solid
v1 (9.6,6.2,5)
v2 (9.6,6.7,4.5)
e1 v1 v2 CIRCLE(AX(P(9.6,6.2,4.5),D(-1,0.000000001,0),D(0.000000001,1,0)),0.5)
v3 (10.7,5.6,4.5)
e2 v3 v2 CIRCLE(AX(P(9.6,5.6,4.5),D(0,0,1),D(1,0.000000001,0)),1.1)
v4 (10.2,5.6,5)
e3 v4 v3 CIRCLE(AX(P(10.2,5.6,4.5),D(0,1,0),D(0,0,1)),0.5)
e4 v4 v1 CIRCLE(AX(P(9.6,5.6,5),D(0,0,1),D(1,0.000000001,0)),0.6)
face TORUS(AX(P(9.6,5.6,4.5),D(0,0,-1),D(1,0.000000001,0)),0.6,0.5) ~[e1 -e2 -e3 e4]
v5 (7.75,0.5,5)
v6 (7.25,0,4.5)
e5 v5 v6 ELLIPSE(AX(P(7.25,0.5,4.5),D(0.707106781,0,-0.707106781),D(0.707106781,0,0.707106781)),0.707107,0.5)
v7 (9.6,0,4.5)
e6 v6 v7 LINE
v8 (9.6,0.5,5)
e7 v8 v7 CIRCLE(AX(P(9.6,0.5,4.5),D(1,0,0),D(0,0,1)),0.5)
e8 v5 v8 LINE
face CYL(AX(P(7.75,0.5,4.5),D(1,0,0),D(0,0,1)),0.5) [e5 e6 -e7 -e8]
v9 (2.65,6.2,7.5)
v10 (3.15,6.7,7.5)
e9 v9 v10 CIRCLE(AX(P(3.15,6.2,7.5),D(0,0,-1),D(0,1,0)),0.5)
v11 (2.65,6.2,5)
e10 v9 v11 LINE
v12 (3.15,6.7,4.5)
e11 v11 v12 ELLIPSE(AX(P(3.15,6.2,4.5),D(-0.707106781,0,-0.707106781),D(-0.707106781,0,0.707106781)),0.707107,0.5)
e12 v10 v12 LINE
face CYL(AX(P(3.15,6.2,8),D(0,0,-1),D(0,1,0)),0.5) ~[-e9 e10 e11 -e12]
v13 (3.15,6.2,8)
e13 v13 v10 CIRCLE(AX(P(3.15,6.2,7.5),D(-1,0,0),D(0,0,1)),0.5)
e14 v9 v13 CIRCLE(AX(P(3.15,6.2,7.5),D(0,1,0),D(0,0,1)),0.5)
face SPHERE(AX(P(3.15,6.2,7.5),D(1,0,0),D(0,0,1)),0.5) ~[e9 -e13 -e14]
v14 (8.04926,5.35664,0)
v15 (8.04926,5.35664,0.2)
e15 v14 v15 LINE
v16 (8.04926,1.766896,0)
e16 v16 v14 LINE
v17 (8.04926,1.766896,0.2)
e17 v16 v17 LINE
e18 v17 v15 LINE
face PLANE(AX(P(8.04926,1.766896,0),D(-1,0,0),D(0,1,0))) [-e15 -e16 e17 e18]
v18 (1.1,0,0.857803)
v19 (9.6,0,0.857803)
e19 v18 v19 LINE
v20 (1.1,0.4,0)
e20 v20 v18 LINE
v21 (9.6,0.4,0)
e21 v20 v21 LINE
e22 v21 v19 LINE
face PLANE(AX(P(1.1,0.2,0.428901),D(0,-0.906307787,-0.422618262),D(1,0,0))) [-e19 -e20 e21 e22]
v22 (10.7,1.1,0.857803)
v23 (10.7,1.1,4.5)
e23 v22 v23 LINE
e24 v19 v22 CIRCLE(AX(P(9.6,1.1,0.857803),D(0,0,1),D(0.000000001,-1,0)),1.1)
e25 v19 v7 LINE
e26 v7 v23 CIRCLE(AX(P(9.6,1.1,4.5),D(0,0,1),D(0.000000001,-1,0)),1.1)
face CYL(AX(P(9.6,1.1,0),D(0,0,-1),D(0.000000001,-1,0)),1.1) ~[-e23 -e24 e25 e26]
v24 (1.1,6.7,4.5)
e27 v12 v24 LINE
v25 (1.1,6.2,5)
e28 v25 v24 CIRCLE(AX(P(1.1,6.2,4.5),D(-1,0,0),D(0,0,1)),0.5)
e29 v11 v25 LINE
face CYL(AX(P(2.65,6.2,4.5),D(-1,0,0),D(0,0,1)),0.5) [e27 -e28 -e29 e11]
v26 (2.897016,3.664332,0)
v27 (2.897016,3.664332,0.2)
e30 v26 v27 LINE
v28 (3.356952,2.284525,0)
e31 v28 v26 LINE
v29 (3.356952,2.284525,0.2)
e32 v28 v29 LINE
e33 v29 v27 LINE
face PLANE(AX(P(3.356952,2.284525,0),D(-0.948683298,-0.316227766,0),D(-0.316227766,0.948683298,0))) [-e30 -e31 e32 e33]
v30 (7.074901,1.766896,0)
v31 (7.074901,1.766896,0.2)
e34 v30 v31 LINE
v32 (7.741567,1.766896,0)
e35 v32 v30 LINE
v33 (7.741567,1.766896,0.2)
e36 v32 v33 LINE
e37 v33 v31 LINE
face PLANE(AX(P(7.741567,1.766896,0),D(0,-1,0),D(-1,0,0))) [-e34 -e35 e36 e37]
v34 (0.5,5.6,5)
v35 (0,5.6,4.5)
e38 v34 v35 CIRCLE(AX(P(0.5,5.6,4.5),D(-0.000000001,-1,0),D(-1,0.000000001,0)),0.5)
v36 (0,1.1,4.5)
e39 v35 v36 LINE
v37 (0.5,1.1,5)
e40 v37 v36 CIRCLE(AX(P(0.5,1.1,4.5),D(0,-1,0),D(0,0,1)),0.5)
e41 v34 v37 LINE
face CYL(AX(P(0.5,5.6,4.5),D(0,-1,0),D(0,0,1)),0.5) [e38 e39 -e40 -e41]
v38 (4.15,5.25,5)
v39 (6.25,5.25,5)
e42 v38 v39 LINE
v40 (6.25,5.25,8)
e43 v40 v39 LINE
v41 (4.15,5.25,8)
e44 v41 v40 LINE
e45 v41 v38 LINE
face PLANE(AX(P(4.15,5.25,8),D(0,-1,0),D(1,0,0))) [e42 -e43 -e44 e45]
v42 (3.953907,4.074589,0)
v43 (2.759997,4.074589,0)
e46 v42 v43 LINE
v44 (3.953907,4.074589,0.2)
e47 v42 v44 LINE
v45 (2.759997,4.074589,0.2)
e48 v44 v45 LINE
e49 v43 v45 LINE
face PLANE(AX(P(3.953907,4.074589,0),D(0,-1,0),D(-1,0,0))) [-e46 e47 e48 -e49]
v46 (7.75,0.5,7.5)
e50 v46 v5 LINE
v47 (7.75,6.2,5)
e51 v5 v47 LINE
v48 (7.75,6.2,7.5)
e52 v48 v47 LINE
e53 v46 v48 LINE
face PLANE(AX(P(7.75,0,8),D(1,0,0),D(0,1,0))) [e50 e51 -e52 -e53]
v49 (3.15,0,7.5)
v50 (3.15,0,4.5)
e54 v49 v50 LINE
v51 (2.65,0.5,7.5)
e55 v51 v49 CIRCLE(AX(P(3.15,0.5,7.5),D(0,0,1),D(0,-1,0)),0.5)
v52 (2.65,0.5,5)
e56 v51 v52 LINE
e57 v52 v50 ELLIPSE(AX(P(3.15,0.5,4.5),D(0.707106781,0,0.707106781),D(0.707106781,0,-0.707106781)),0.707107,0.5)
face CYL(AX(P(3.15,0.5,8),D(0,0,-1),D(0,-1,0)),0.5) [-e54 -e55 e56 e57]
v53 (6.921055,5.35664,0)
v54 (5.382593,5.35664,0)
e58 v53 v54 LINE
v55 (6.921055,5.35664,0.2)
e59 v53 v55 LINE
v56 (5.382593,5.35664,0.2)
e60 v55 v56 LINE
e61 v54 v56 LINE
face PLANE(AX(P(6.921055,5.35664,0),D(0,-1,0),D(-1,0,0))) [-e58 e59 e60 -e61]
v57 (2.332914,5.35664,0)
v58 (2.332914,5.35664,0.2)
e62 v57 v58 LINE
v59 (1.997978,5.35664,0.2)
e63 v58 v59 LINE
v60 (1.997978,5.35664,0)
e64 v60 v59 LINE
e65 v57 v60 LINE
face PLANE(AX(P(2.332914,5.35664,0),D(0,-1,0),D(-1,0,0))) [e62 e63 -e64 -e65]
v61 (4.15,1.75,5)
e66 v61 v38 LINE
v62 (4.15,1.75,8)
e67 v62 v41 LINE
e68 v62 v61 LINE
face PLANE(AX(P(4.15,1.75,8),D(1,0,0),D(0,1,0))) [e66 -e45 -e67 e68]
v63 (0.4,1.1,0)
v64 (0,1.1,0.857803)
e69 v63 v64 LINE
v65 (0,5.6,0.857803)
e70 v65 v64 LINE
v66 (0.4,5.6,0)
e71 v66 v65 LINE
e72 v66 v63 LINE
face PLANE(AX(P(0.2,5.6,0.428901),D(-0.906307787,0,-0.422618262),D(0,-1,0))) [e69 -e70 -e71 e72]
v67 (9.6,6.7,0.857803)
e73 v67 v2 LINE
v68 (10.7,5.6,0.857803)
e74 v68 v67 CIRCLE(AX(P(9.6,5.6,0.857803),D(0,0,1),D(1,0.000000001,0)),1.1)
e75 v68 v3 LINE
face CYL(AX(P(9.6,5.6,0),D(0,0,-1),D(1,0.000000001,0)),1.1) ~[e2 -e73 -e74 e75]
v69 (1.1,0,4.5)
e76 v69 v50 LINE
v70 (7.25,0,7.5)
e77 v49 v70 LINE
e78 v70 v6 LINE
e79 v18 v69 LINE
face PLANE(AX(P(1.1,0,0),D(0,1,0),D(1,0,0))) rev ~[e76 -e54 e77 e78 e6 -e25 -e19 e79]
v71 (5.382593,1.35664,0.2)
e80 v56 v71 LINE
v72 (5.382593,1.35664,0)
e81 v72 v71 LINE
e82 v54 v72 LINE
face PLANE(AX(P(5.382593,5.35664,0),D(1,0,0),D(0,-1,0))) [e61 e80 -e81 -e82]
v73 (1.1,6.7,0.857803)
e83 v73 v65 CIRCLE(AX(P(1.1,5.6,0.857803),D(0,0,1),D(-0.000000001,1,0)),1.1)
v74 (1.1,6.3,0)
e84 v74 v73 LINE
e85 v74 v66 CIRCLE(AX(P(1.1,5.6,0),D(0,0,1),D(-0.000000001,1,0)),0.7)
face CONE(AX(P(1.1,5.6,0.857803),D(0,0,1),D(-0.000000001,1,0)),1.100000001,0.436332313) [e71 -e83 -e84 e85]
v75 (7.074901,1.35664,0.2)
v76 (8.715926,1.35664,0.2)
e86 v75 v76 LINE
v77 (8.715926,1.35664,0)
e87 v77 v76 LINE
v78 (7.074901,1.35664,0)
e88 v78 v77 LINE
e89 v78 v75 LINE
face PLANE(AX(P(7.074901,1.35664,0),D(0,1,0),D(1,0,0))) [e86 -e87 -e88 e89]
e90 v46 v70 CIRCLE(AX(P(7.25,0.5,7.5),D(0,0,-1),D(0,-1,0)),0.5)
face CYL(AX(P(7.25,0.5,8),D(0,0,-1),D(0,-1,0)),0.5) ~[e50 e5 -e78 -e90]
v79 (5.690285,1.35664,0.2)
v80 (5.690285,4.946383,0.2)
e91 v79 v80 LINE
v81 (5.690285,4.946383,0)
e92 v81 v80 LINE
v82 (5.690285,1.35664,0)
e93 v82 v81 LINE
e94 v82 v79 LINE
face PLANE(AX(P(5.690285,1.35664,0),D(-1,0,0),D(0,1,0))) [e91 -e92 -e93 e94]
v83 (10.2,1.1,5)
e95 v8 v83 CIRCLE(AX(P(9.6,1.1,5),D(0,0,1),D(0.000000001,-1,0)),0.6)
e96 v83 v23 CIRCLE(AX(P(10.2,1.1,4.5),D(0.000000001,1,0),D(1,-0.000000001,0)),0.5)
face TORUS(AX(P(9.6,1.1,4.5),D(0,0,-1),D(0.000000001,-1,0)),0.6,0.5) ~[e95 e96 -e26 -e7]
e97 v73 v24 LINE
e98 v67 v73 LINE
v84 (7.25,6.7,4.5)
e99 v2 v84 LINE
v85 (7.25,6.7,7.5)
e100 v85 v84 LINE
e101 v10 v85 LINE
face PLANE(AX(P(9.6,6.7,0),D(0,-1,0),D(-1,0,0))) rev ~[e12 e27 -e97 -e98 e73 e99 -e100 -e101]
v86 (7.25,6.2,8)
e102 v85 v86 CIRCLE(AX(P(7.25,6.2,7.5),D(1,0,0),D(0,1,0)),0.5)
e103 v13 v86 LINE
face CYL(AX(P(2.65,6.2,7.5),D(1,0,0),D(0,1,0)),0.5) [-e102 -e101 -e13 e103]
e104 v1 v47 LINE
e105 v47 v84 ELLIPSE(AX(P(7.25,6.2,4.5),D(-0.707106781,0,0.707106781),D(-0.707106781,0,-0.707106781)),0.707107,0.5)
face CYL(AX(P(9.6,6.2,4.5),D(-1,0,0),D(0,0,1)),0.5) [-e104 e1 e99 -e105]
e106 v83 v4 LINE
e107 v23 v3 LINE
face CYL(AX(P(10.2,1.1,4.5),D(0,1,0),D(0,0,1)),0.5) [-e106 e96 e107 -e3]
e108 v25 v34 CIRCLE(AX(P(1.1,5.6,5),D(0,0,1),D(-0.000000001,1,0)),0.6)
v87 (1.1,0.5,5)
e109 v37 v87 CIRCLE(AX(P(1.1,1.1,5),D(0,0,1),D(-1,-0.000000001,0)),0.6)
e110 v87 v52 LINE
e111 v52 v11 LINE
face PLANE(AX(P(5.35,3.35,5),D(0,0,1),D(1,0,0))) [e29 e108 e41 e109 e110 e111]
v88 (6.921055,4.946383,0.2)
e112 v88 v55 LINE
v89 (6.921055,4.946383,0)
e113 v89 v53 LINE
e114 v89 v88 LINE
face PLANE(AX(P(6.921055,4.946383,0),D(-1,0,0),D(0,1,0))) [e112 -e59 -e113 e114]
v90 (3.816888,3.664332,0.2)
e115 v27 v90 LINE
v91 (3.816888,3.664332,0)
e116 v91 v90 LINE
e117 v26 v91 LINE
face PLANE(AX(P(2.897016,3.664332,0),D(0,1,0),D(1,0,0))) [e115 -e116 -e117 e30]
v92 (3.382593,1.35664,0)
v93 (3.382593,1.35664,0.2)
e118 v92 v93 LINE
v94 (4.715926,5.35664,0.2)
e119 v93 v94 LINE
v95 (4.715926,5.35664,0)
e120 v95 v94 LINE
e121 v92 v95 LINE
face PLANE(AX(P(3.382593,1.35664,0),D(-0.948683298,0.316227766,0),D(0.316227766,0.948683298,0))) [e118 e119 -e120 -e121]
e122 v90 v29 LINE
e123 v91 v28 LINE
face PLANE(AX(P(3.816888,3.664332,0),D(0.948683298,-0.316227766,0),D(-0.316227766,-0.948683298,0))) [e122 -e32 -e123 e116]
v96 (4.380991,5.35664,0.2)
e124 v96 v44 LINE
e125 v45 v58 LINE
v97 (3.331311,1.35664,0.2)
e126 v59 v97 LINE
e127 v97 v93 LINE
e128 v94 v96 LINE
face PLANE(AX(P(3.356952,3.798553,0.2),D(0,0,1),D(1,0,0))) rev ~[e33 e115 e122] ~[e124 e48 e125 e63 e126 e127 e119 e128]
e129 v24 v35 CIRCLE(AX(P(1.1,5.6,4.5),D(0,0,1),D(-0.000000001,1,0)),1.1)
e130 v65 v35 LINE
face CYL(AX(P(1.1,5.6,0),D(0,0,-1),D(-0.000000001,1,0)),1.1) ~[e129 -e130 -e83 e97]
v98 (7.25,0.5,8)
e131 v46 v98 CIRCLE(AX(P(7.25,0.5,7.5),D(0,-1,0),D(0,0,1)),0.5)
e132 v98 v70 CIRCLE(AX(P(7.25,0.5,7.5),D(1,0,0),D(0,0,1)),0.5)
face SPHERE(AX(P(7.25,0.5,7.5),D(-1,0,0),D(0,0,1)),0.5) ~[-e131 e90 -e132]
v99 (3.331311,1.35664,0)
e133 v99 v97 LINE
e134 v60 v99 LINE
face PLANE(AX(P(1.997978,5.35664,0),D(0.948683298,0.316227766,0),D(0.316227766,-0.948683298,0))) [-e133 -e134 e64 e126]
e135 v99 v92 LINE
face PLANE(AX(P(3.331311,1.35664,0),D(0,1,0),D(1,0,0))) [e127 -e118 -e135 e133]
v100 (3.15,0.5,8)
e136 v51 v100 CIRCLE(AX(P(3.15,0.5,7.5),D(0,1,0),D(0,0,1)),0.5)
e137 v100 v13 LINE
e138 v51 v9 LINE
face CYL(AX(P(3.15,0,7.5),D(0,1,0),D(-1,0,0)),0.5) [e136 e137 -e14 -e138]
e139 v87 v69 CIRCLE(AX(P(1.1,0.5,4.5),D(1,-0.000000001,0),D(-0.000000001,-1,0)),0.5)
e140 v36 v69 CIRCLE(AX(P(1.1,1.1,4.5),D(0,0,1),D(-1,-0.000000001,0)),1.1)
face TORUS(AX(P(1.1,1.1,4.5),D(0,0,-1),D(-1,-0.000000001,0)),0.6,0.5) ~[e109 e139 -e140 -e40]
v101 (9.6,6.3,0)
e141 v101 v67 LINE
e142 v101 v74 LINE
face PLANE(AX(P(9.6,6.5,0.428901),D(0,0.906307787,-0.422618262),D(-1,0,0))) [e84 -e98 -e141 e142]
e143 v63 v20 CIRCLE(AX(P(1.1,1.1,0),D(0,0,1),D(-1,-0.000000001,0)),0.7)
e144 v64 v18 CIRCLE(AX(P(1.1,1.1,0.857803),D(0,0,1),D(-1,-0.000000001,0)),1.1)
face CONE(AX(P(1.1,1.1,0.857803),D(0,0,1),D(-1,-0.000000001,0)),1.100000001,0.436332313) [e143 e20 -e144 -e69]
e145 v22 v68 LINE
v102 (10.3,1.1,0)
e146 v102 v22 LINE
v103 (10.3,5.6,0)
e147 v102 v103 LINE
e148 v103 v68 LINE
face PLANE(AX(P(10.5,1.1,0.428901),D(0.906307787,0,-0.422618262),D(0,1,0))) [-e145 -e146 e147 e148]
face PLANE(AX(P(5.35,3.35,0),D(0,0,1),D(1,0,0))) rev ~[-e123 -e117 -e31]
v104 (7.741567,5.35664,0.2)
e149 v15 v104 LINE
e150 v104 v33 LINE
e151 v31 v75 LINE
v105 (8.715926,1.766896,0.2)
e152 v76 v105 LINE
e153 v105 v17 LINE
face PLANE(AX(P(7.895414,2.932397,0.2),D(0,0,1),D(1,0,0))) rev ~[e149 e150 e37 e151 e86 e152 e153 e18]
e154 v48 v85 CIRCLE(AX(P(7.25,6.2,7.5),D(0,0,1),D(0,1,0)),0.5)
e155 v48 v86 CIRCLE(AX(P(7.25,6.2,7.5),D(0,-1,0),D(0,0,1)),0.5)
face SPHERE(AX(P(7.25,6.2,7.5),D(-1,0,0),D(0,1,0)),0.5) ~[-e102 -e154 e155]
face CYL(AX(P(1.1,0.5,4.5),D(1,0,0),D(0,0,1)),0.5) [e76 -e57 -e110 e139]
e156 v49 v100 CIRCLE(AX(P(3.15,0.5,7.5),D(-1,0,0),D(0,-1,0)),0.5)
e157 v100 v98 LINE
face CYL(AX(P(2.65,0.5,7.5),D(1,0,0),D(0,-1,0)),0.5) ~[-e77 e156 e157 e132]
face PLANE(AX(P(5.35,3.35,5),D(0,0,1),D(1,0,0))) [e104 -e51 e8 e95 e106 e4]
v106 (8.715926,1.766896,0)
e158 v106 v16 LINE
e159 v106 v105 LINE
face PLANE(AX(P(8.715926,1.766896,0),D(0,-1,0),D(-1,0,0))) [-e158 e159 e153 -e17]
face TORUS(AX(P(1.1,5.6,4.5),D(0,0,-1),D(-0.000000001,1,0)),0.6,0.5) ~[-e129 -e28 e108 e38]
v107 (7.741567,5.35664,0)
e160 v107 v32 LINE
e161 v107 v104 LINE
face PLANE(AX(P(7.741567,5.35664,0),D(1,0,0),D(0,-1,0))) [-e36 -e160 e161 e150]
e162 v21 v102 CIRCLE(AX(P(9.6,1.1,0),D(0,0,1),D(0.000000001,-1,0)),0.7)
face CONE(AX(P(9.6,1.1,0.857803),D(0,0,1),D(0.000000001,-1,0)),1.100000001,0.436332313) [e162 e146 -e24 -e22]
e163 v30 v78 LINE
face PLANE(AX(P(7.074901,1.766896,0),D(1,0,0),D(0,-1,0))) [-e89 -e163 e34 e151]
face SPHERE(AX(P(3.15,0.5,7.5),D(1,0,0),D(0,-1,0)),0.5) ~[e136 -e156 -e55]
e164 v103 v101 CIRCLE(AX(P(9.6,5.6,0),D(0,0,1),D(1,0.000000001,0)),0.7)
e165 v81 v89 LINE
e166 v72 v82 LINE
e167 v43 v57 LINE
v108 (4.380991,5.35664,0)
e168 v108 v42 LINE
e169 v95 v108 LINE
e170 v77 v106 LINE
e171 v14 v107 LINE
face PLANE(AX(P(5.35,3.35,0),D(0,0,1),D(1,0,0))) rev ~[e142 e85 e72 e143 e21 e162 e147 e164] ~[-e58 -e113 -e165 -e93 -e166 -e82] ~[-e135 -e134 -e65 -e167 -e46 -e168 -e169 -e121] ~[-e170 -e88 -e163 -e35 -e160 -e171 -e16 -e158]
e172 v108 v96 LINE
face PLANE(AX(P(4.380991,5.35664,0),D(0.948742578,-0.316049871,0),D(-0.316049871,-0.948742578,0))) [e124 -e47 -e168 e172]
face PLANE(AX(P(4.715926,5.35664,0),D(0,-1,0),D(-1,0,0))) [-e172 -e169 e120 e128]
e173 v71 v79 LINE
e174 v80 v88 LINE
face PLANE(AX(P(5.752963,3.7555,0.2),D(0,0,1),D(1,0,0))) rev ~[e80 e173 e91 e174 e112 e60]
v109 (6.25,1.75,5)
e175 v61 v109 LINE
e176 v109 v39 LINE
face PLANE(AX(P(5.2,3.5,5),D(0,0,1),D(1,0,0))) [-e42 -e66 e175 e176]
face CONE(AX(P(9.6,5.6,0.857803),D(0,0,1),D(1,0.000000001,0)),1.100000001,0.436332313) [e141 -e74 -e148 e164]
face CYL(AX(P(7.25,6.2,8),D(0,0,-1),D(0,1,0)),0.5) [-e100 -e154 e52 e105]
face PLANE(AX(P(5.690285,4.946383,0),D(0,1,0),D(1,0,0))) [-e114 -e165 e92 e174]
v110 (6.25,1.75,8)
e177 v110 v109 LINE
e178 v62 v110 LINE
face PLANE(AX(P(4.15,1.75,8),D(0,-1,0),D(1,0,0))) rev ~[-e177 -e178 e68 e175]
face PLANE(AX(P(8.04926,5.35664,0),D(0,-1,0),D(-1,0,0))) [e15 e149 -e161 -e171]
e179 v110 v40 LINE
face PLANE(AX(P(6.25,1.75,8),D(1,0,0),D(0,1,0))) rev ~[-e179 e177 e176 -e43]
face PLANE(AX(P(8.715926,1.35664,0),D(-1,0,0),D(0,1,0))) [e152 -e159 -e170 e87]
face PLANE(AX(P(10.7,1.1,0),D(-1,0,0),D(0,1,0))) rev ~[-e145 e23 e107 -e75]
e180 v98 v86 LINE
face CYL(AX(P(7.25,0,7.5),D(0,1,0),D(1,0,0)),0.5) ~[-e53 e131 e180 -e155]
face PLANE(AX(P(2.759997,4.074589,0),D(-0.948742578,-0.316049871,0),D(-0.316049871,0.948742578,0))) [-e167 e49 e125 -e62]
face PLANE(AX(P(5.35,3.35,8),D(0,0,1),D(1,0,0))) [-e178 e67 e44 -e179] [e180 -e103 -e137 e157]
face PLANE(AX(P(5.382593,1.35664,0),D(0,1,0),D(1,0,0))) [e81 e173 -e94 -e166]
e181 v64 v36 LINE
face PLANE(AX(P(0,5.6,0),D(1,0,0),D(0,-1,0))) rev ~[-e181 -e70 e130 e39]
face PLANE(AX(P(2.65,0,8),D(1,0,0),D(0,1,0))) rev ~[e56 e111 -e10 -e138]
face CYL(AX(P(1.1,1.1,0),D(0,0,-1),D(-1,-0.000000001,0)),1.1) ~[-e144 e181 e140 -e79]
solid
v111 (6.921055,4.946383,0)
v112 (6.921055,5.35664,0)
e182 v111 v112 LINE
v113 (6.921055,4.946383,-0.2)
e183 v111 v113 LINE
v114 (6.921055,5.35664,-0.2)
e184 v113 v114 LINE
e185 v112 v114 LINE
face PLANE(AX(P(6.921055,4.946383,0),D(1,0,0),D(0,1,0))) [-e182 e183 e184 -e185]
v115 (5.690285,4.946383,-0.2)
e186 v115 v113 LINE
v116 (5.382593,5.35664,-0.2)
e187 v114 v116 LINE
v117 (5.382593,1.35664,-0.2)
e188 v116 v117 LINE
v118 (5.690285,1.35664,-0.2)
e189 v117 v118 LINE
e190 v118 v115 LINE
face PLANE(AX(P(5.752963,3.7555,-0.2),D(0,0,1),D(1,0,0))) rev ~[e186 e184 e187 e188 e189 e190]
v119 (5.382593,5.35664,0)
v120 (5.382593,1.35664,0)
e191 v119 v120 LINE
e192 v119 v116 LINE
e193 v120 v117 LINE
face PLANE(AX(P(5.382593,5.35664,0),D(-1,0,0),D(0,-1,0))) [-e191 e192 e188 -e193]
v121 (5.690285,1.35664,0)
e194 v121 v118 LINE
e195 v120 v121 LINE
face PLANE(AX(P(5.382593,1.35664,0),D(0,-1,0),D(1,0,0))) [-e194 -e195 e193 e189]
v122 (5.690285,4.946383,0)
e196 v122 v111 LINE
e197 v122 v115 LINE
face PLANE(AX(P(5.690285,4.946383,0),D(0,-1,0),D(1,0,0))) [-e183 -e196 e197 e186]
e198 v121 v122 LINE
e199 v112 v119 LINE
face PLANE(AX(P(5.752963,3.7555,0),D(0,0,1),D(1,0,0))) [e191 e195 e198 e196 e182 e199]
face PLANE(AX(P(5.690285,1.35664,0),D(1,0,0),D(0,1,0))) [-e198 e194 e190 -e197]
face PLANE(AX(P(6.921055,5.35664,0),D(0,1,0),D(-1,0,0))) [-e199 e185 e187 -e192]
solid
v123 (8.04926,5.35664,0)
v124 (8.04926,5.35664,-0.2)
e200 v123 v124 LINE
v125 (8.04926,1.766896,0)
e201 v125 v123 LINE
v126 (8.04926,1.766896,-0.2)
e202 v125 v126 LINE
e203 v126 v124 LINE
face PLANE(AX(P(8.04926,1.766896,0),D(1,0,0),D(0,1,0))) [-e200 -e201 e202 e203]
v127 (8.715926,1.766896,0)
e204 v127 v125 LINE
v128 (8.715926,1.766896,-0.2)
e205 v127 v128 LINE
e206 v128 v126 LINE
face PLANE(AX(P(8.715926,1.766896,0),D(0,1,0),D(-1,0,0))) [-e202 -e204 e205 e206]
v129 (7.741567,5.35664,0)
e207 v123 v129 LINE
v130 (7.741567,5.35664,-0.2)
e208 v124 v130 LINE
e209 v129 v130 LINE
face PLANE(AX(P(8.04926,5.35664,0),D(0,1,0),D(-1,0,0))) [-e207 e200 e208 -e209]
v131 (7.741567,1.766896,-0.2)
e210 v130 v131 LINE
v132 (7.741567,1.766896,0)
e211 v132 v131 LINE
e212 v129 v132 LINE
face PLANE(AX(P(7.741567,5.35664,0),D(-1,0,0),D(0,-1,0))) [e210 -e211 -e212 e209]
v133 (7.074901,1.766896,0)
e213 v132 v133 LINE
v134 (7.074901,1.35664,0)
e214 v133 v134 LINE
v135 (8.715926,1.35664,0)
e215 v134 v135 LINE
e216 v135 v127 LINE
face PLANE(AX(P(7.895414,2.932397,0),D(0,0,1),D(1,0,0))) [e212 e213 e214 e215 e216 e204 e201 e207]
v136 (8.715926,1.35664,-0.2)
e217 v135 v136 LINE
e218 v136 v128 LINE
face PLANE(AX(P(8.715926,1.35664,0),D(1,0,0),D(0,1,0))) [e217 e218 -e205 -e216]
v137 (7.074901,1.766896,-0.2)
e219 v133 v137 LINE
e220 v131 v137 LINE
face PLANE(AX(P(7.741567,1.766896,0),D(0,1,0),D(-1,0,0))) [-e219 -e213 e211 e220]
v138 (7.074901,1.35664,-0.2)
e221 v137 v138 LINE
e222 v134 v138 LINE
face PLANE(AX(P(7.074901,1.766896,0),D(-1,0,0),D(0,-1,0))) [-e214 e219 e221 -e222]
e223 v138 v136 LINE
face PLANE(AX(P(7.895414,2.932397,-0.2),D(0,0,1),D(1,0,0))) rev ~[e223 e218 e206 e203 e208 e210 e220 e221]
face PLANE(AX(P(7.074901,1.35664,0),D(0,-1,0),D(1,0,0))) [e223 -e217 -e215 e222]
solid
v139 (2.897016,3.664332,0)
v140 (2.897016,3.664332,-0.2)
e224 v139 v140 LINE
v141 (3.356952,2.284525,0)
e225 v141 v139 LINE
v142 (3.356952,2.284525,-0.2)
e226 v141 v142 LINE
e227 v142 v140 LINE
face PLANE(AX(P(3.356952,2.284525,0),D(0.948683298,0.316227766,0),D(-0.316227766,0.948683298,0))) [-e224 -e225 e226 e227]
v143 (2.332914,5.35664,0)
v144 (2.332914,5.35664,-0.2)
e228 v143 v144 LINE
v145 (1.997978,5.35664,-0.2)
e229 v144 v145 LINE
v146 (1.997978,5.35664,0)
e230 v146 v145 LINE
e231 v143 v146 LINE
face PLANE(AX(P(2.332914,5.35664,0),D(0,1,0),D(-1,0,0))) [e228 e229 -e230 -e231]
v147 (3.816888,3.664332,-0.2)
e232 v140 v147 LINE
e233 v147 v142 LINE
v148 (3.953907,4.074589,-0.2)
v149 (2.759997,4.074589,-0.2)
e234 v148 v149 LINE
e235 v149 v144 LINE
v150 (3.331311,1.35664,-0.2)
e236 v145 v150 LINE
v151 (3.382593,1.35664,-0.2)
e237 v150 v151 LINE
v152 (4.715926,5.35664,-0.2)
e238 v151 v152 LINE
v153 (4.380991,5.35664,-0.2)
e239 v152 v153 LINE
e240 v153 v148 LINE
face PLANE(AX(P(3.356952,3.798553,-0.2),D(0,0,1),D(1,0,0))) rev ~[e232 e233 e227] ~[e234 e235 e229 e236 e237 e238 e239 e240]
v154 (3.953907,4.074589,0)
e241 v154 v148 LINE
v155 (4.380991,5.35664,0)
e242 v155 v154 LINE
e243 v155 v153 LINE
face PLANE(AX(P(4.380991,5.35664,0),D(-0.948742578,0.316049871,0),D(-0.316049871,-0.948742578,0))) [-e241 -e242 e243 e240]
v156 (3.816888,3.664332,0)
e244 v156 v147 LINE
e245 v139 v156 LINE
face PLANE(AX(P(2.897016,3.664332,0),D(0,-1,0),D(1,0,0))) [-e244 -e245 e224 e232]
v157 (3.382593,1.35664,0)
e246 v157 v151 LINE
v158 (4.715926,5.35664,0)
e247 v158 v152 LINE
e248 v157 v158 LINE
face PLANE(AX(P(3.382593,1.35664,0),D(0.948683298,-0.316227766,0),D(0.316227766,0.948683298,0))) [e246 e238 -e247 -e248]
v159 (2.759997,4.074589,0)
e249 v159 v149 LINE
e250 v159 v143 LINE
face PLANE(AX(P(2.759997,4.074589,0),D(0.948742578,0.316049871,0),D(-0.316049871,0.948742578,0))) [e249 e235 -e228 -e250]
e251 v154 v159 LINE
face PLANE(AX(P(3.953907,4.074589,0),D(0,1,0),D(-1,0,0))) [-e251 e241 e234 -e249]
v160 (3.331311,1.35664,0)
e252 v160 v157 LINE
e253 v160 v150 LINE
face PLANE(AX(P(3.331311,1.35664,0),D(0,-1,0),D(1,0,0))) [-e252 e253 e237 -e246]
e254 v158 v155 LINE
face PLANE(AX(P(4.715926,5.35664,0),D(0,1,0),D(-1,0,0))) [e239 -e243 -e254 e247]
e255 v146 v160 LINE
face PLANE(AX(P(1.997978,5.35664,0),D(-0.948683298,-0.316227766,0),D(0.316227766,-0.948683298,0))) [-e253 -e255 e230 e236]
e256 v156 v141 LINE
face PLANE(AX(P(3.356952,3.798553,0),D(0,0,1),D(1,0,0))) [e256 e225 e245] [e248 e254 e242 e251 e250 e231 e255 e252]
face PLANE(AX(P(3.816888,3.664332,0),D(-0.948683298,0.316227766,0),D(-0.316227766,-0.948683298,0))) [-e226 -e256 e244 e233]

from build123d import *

# Parameters (mm, degrees)
BOSS_EXTRU_1_DEPTH      = 8
ESQUISSE3_W             = 2.1
ESQUISSE3_H             = 3.5
ENL_V_MAT_EXTRU_1_DEPTH = 3
ESQUISSE4_OUTSIDE_W     = 15.69
ESQUISSE4_OUTSIDE_H     = 11.69
ESQUISSE4_OUTSIDE_W_2   = 5.1
ESQUISSE4_OUTSIDE_H_2   = 6.7
ENL_V_MAT_EXTRU_2_DEPTH = 3
CONG_1_R                = 0.5
CHANFREIN1_SIZE         = 0.4
CHANFREIN1_SIZE2        = 0.857802768
ENL_V_MAT_EXTRU_3_DEPTH = 0.2
BOSS_EXTRU_2_DEPTH      = 0.2
BOSS_EXTRU_2_2_DEPTH    = 0.2
BOSS_EXTRU_2_3_DEPTH    = 0.2


with BuildPart() as part:
    # Esquisse2 → Boss.-Extru.1 (new body)
    with BuildSketch(Plane.XY):
        with BuildLine():
            Line((1.1, 0), (9.6, 0))
            ThreePointArc((9.6, 0), (10.377817459, 0.322182541), (10.7, 1.1))
            Line((10.7, 1.1), (10.7, 5.6))
            ThreePointArc((10.7, 5.6), (10.377817459, 6.377817459), (9.6, 6.7))
            Line((9.6, 6.7), (1.1, 6.7))
            ThreePointArc((1.1, 6.7), (0.322182541, 6.377817459), (0, 5.6))
            Line((0, 5.6), (0, 1.1))
            ThreePointArc((0, 1.1), (0.322182541, 0.322182541), (1.1, 0))
        make_face()
    extrude(amount=BOSS_EXTRU_1_DEPTH)

    # Esquisse3 → Enlèv. mat.-Extru.1 (cut)
    with BuildSketch(Plane.XY.offset(8)):
        with Locations((5.2, 3.5)):
            Rectangle(ESQUISSE3_W, ESQUISSE3_H)
    extrude(amount=-ENL_V_MAT_EXTRU_1_DEPTH, mode=Mode.SUBTRACT)

    # Esquisse4 outside → Enlèv. mat.-Extru.2 (cut)
    with BuildSketch(Plane.XY.offset(8)):
        with Locations((5.35, 3.35)):
            Rectangle(ESQUISSE4_OUTSIDE_W, ESQUISSE4_OUTSIDE_H)
        with Locations((5.2, 3.35)):
            Rectangle(ESQUISSE4_OUTSIDE_W_2, ESQUISSE4_OUTSIDE_H_2, mode=Mode.SUBTRACT)
    extrude(amount=-ENL_V_MAT_EXTRU_2_DEPTH, mode=Mode.SUBTRACT)

    # Congé1
    cong_1_edges = [part.edges().sort_by_distance(p)[0] for p in [
        (8.675, 0, 5),
        (10.377817459, 0.322182541, 5),
        (10.7, 3.35, 5),
        (10.377817459, 6.377817459, 5),
        (1.875, 6.7, 5),
        (0.322182541, 6.377817459, 5),
        (1.875, 0, 5),
        (0.322182541, 0.322182541, 5),
        (7.75, 6.7, 6.5),
        (2.65, 6.7, 6.5),
        (7.75, 0, 6.5),
        (2.65, 0, 6.5),
        (2.65, 3.35, 8),
        (5.2, 6.7, 8),
        (7.75, 3.35, 8),
        (5.2, 0, 8),
        (8.675, 6.7, 5),
        (0, 3.35, 5),
    ]]
    fillet(cong_1_edges, radius=CONG_1_R)

    # Chanfrein1
    chanfrein1_edges = [part.edges().sort_by_distance(p)[0] for p in [
        (5.35, 0, 0),
        (10.377817459, 0.322182541, 0),
        (0.322182541, 0.322182541, 0),
        (10.7, 3.35, 0),
        (0, 3.35, 0),
        (10.377817459, 6.377817459, 0),
        (0.322182541, 6.377817459, 0),
        (5.35, 6.7, 0),
    ]]
    chanfrein1_side = [part.faces().sort_by_distance(p)[0] for p in [
        (5.35, 3.35, 0),
    ]]
    chamfer(chanfrein1_edges, length=CHANFREIN1_SIZE, length2=CHANFREIN1_SIZE2, reference=chanfrein1_side[0])

    # Esquisse5 → Enlèv. mat.-Extru.3 (cut)
    # profile 1 of 3: a face of its own
    with BuildSketch(Plane.XY):
        Polygon((3.382593084, 1.356639893), (4.715926417, 5.356639893), (4.38099052, 5.356639893), (3.953907187, 4.074588611), (2.75999693, 4.074588611), (2.332913597, 5.356639893), (1.997977699, 5.356639893), (3.331311033, 1.356639893), align=None)
        Polygon((3.356952058, 2.284524508), (2.897016161, 3.6643322), (3.816887956, 3.6643322), align=None, mode=Mode.SUBTRACT)
    # profile 2 of 3: a face of its own
    with BuildSketch(Plane.XY):
        Polygon((5.382593084, 1.356639893), (5.690285392, 1.356639893), (5.690285392, 4.946383482), (6.921054623, 4.946383482), (6.921054623, 5.356639893), (5.382593084, 5.356639893), align=None)
    # profile 3 of 3: a face of its own
    with BuildSketch(Plane.XY):
        Polygon((7.074900776, 1.766896303), (7.074900776, 1.356639893), (8.715926417, 1.356639893), (8.715926417, 1.766896303), (8.049259751, 1.766896303), (8.049259751, 5.356639893), (7.741567443, 5.356639893), (7.741567443, 1.766896303), align=None)
    extrude(amount=ENL_V_MAT_EXTRU_3_DEPTH, mode=Mode.SUBTRACT)


with BuildPart() as body_2:
    # Esquisse5<4> → Boss.-Extru.2 (new body)
    with BuildSketch(Plane.XY):
        Polygon((3.382593084, 1.356639893), (4.715926417, 5.356639893), (4.38099052, 5.356639893), (3.953907187, 4.074588611), (2.75999693, 4.074588611), (2.332913597, 5.356639893), (1.997977699, 5.356639893), (3.331311033, 1.356639893), align=None)
        Polygon((3.356952058, 2.284524508), (2.897016161, 3.6643322), (3.816887956, 3.6643322), align=None, mode=Mode.SUBTRACT)
    extrude(amount=-BOSS_EXTRU_2_DEPTH)


with BuildPart() as body_3:
    # Esquisse5<4> → Boss.-Extru.2 2 (new body)
    with BuildSketch(Plane.XY):
        Polygon((5.382593084, 1.356639893), (5.690285392, 1.356639893), (5.690285392, 4.946383482), (6.921054623, 4.946383482), (6.921054623, 5.356639893), (5.382593084, 5.356639893), align=None)
    extrude(amount=-BOSS_EXTRU_2_2_DEPTH)


with BuildPart() as body_4:
    # Esquisse5<4> → Boss.-Extru.2 3 (new body)
    with BuildSketch(Plane.XY):
        Polygon((7.074900776, 1.766896303), (7.074900776, 1.356639893), (8.715926417, 1.356639893), (8.715926417, 1.766896303), (8.049259751, 1.766896303), (8.049259751, 5.356639893), (7.741567443, 5.356639893), (7.741567443, 1.766896303), align=None)
    extrude(amount=-BOSS_EXTRU_2_3_DEPTH)


solid = Compound([part.part, body_2.part, body_3.part, body_4.part])
